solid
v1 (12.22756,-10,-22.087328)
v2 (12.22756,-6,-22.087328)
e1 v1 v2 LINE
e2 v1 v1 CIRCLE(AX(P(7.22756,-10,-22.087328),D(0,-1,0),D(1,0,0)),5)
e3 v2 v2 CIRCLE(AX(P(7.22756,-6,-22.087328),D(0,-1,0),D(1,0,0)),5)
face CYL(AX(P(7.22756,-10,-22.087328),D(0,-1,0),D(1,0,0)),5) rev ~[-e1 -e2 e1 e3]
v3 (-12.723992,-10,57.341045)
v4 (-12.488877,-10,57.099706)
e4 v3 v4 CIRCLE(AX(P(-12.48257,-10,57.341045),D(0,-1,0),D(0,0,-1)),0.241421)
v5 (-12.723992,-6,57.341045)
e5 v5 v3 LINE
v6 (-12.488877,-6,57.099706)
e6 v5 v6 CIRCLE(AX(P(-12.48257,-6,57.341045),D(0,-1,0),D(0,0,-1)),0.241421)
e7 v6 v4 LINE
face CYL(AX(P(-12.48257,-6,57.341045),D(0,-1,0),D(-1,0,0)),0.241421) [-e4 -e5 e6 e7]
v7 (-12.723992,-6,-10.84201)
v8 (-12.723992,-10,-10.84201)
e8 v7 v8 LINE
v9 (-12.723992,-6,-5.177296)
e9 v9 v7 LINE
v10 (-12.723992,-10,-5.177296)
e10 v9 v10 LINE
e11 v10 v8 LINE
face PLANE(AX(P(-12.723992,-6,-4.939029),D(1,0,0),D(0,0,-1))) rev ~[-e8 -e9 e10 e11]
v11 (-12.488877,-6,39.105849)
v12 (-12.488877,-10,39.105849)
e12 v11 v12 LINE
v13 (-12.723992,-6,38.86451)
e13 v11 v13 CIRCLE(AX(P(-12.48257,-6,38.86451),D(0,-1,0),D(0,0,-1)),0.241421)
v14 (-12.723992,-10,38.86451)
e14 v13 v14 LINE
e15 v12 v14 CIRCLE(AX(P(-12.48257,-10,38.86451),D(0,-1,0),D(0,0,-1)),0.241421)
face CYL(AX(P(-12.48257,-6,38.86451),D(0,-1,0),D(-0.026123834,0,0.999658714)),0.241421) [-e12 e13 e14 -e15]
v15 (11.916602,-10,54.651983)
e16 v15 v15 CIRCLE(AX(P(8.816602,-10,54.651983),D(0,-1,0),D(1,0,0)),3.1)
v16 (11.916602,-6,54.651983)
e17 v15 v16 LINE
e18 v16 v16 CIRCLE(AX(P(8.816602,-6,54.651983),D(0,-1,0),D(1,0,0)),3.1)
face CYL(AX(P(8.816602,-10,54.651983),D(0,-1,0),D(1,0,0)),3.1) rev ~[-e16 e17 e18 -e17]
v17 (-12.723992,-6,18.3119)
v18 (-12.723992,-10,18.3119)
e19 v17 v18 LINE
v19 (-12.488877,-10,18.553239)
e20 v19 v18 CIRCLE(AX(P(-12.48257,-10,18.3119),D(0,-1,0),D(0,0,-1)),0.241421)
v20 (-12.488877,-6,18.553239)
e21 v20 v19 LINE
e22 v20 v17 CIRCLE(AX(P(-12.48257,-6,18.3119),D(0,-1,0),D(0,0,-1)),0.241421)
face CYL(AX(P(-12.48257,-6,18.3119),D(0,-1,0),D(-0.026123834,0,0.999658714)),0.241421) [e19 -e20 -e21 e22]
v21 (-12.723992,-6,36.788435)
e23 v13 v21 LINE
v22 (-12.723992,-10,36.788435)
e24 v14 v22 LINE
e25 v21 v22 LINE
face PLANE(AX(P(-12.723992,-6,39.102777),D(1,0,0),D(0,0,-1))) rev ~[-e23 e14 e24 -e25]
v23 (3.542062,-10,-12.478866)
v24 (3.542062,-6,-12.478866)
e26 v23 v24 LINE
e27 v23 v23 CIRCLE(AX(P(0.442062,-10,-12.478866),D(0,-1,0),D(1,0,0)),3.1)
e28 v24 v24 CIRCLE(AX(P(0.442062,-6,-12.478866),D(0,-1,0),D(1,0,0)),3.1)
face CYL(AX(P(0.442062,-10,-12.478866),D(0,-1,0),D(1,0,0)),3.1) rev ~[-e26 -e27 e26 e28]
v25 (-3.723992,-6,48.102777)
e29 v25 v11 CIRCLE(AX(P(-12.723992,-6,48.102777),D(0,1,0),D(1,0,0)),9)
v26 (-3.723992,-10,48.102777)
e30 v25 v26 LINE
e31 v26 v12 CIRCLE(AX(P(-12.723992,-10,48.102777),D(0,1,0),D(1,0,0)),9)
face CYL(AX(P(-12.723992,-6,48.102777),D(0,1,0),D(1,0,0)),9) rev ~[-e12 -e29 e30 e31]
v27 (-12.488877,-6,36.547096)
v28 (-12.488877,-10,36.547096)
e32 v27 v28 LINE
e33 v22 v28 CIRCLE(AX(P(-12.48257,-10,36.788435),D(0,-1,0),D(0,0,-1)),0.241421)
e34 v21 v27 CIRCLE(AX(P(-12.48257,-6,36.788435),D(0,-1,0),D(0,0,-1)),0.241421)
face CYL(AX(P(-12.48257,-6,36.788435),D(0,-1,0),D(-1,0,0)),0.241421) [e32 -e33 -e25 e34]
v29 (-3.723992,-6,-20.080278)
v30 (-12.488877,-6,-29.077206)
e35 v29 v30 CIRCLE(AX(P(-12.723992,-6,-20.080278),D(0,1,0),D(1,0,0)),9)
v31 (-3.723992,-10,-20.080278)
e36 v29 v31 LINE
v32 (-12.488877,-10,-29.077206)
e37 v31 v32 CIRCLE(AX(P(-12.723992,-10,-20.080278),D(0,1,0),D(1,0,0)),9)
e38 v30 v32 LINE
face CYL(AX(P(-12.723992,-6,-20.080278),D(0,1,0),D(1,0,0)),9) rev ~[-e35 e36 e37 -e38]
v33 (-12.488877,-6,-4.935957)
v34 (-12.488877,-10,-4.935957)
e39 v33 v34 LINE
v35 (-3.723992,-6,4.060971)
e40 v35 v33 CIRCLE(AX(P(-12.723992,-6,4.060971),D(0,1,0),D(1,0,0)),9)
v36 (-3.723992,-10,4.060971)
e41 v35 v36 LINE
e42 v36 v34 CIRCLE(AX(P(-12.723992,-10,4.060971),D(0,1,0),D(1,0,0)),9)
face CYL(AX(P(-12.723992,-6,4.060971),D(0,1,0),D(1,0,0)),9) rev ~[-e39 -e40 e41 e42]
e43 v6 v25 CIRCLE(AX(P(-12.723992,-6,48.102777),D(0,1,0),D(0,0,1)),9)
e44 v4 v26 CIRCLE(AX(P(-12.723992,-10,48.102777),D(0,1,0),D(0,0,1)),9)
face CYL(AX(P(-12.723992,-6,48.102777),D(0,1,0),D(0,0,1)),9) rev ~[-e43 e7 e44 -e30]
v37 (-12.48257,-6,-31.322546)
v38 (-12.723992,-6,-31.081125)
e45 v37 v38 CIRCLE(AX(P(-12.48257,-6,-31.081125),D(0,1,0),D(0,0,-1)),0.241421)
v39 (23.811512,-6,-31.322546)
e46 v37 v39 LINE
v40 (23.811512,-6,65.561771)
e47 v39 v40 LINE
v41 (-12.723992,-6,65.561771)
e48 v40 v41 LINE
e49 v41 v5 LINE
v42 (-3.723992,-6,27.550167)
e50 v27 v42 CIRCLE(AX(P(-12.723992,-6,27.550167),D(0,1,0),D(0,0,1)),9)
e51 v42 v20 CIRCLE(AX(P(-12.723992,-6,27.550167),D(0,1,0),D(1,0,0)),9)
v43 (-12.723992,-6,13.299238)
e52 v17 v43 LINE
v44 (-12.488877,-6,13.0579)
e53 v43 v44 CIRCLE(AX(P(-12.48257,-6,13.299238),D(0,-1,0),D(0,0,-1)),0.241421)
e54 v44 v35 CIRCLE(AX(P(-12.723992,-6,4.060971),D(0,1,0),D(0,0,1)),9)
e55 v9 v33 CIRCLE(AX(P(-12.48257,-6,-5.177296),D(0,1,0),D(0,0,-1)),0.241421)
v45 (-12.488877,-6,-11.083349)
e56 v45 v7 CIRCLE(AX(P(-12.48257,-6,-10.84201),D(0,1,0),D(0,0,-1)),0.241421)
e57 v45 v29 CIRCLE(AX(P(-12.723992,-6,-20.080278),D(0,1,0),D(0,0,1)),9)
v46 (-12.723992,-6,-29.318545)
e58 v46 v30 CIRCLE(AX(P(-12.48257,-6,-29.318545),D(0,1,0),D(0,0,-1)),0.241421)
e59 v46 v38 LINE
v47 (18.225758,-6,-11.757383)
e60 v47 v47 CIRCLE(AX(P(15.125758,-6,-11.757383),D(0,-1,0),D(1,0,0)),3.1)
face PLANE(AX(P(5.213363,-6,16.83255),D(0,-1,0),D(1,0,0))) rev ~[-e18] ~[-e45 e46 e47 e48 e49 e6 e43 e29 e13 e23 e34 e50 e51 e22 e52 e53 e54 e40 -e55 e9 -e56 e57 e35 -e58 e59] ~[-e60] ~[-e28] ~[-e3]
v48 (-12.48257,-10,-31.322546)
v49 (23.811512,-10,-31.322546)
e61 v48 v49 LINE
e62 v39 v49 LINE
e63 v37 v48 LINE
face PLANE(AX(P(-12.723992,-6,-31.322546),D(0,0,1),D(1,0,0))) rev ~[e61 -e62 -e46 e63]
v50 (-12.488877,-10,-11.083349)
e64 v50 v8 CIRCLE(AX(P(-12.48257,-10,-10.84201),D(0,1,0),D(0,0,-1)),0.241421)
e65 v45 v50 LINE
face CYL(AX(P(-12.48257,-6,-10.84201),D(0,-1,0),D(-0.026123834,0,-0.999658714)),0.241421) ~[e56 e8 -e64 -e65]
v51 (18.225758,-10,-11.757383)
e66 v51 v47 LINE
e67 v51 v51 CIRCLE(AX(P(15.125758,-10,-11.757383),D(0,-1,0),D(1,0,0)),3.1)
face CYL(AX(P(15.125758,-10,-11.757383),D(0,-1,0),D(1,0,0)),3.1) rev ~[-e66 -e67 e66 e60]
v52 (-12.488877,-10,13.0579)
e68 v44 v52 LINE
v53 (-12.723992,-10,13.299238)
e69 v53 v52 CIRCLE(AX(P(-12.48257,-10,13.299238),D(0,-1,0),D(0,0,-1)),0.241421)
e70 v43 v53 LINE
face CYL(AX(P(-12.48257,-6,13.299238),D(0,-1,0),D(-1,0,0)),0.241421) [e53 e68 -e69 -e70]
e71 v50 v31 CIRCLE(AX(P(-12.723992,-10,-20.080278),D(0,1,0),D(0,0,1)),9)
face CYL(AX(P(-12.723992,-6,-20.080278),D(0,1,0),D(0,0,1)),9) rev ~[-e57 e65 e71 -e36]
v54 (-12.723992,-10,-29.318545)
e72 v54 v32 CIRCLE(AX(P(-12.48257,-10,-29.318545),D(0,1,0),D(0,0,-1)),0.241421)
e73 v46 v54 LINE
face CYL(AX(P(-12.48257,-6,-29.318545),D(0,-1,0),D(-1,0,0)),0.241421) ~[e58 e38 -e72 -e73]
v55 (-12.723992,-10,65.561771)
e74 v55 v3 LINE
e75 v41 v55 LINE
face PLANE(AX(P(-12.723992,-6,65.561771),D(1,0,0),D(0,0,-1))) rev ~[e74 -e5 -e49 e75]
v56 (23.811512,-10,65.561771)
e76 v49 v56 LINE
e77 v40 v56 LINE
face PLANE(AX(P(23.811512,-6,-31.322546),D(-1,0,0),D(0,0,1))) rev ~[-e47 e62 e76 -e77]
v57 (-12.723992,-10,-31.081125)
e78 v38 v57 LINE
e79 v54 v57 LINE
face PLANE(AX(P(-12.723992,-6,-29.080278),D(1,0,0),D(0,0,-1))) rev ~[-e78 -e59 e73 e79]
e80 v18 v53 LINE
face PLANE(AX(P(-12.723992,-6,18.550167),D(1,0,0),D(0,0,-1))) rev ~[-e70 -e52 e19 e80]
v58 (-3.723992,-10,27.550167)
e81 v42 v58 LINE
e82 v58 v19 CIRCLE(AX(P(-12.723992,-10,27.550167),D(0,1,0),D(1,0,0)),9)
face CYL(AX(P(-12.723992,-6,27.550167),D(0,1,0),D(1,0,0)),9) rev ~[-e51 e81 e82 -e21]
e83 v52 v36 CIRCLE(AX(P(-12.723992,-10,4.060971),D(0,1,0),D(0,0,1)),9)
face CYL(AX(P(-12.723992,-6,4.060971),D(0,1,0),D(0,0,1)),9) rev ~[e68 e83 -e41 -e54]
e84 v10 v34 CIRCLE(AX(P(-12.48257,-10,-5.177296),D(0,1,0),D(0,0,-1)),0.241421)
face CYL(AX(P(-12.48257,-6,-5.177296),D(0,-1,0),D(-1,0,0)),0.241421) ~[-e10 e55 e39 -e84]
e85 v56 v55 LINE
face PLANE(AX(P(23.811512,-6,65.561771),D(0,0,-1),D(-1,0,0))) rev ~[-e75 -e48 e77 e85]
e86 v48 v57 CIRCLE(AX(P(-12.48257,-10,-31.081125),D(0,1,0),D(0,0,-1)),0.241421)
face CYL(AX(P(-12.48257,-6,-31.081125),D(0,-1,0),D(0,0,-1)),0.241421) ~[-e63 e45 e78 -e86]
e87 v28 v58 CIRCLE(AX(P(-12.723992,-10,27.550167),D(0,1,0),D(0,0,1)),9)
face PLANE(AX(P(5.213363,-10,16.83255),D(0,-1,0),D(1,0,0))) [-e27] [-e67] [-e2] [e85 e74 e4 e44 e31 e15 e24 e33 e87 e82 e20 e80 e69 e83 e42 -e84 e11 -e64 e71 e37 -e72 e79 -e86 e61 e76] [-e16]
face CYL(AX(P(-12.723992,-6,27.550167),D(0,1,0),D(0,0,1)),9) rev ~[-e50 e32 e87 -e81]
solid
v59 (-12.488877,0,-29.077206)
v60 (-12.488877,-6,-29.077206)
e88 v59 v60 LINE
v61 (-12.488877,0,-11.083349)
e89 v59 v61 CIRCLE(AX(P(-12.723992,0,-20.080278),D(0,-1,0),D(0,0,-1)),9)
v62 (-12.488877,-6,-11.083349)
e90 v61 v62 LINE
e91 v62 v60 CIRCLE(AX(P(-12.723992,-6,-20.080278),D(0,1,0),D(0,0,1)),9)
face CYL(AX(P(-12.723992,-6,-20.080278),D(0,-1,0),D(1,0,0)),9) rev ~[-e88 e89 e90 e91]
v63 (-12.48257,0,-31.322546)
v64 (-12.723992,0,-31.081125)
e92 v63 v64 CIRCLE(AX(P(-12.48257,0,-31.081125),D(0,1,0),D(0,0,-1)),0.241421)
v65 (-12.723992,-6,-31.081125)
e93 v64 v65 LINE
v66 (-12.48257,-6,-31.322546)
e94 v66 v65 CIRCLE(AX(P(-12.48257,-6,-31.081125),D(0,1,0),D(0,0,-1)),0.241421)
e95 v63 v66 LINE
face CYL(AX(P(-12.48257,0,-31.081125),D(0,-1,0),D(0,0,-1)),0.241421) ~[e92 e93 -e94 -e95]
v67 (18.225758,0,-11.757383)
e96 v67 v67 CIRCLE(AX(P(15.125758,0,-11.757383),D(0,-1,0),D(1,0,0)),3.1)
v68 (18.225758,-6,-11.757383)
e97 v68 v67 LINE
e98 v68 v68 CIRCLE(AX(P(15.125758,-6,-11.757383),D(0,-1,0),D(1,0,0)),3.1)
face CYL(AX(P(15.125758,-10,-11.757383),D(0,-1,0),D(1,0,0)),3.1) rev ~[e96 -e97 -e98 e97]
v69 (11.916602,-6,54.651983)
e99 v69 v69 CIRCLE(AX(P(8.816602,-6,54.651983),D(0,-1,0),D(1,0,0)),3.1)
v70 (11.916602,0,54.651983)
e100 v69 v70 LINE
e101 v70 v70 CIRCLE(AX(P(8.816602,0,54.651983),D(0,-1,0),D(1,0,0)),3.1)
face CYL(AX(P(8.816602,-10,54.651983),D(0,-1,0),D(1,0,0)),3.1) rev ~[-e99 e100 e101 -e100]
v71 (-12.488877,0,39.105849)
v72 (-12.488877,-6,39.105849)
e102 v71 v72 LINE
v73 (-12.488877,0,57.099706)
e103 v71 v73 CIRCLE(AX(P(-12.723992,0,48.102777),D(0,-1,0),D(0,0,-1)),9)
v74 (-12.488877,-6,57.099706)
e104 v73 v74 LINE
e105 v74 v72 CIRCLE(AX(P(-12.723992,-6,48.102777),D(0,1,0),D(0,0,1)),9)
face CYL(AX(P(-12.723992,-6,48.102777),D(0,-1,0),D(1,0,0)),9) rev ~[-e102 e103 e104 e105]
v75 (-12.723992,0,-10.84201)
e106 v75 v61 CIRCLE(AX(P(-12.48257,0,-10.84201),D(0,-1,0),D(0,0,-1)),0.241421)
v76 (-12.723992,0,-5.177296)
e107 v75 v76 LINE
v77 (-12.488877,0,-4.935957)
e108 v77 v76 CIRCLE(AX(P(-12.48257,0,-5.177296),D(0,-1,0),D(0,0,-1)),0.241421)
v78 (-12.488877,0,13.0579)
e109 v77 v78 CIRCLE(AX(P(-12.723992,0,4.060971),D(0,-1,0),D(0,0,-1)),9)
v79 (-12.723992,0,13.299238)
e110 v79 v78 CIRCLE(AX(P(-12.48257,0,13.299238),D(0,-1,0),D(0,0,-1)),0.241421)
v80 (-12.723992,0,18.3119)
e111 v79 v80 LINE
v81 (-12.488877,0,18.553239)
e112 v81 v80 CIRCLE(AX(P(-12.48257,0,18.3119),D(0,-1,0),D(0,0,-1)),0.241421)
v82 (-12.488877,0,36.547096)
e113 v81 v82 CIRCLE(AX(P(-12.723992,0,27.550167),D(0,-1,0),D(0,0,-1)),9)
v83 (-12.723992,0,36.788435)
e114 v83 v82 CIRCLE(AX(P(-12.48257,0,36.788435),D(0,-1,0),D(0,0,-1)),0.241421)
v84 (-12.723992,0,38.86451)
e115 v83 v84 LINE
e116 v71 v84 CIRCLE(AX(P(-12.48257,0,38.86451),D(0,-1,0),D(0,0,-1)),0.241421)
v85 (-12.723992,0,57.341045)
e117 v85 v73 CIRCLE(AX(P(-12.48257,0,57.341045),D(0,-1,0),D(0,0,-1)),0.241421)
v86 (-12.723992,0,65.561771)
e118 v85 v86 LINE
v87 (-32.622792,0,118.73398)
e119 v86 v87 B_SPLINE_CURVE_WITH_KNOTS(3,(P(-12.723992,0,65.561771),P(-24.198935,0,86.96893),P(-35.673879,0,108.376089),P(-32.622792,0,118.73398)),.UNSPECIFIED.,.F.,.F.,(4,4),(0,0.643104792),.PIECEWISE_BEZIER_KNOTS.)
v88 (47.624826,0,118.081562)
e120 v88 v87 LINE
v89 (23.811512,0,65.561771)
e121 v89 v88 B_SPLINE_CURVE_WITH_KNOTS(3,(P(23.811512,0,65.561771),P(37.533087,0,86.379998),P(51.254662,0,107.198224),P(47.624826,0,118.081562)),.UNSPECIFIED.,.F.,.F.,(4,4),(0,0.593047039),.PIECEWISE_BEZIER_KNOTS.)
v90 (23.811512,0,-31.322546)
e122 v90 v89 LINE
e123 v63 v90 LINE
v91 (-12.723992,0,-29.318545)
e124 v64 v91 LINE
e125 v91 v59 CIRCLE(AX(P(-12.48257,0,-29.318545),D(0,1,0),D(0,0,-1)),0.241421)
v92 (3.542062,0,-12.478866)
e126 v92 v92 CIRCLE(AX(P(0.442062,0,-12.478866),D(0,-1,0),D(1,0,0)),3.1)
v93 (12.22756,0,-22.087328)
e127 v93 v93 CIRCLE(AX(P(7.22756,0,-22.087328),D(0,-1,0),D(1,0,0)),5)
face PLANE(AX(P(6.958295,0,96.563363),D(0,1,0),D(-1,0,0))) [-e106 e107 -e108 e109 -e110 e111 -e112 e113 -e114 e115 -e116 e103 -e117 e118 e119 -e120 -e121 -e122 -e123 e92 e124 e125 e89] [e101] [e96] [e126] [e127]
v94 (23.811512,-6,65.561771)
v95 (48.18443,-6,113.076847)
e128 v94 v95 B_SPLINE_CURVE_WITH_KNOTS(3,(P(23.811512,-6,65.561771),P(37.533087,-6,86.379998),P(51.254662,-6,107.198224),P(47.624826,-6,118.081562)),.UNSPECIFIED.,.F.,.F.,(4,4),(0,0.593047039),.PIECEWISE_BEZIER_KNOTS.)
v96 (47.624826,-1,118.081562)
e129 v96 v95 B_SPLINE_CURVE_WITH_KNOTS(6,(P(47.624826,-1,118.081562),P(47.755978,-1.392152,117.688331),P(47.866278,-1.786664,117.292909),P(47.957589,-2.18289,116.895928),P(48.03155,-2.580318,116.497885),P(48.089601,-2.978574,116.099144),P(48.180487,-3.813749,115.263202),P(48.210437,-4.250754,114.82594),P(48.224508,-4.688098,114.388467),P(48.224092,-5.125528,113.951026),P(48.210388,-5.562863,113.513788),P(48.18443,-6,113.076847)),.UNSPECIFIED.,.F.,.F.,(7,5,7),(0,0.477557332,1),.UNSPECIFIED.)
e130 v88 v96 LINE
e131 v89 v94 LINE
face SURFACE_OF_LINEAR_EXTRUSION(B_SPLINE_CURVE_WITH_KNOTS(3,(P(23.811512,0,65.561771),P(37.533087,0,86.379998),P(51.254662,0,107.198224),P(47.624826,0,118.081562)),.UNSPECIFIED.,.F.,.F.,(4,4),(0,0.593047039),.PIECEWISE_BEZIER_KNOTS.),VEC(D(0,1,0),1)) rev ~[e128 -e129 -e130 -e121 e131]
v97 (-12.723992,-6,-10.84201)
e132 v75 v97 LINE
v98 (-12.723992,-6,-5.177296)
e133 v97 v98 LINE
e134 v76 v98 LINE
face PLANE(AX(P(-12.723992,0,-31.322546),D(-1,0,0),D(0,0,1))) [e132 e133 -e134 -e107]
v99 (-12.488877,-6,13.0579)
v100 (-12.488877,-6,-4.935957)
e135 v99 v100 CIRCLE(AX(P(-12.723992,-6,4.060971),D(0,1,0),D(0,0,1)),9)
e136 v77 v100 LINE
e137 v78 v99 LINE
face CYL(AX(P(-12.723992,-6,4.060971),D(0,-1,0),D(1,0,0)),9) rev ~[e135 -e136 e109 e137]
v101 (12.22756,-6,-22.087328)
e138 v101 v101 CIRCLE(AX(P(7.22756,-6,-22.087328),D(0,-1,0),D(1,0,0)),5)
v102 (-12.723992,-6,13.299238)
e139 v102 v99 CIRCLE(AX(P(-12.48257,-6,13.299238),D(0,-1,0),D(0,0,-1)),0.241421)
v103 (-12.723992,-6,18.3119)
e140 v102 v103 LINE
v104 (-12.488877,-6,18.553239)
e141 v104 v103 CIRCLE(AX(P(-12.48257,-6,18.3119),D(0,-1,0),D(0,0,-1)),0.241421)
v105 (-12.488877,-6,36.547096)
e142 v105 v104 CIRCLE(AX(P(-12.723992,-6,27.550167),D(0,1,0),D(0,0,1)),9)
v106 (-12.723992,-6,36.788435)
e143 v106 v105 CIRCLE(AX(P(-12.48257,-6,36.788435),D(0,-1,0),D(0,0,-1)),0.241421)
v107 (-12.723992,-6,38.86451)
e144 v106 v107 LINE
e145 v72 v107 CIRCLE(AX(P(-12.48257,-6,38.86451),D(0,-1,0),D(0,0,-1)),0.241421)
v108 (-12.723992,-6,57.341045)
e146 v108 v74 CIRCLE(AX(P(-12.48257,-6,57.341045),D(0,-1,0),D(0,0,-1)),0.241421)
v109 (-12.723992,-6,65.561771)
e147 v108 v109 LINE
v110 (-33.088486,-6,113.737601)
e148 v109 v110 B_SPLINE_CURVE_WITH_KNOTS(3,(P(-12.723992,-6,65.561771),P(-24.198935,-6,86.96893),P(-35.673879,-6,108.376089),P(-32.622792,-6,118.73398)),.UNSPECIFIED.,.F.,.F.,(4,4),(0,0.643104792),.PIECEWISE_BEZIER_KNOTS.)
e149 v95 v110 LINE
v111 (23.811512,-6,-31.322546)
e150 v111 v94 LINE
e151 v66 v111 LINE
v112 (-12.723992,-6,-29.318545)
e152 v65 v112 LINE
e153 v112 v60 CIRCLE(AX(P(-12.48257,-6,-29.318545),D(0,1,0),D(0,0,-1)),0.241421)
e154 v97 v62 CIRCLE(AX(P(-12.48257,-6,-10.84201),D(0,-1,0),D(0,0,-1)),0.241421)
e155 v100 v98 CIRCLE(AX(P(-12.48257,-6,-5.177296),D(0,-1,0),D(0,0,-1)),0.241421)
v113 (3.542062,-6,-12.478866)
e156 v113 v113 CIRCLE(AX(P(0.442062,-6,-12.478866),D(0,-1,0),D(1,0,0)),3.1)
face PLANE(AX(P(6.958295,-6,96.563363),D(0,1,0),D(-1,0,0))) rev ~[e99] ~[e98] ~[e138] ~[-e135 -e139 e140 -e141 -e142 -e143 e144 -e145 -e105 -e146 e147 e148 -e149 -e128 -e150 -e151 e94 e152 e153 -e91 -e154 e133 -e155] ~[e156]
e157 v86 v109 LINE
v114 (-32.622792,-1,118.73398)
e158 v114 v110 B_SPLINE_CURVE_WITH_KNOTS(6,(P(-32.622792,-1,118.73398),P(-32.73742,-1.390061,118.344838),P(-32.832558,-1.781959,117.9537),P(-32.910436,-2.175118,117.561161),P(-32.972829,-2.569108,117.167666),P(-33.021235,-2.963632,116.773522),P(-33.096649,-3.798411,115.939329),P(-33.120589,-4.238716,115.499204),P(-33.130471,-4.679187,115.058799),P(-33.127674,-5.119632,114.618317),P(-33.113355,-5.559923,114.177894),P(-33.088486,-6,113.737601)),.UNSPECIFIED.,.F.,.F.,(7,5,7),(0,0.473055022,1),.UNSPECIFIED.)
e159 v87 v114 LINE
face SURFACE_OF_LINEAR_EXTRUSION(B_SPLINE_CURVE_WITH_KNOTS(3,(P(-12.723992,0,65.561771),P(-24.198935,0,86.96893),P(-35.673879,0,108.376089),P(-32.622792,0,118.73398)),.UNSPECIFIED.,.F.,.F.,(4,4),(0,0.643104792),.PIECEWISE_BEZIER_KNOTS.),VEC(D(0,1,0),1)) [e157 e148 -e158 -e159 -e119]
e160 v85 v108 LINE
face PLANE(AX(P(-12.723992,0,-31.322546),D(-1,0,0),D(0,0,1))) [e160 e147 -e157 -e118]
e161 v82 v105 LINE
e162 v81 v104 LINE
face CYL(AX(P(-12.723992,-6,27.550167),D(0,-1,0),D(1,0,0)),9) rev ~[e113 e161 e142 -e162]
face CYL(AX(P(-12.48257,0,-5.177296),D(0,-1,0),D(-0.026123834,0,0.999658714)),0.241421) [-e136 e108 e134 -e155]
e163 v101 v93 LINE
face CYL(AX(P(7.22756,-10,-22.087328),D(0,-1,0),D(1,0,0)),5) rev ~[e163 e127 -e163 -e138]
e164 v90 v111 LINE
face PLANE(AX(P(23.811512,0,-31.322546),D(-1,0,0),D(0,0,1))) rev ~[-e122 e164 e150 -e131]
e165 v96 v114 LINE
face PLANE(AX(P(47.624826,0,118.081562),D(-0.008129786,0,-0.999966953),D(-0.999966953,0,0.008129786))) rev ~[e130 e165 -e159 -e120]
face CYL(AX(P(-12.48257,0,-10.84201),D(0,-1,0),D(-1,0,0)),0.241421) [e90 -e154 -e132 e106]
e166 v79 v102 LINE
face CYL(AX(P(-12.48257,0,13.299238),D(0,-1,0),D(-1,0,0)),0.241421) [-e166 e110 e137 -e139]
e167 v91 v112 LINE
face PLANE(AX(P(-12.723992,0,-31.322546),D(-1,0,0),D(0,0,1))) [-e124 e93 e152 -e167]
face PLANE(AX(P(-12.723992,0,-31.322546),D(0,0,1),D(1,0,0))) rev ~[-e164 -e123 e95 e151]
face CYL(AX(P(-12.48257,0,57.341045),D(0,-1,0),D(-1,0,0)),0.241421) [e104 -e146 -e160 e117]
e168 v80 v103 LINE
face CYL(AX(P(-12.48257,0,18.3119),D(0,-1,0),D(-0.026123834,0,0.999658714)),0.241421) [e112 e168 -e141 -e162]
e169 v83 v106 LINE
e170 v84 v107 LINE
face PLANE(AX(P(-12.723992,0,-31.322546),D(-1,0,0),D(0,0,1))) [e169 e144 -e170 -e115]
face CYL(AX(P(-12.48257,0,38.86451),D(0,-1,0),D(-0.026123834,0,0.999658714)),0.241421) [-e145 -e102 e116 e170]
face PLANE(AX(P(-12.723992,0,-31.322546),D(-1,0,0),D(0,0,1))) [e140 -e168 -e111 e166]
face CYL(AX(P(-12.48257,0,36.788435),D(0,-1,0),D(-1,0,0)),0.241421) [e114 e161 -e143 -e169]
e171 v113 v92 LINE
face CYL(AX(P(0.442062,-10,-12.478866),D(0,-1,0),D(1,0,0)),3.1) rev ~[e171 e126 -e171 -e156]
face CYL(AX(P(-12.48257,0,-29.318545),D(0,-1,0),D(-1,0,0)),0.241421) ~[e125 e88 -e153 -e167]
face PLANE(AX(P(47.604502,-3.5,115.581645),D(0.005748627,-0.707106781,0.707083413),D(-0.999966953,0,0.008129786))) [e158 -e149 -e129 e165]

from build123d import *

# Parameters (mm, degrees)
F1_W     = 36.5355033427
F1_H     = 96.8843176961
F2_DEPTH = 6
F4_DEPTH = 4
F3_R     = 9
F5_DEPTH = 25
F6_R     = 3.1
F6_R_2   = 5
F7_DEPTH = 35.6
F8_SIZE  = 5
F9_R     = 0.2414213562
F9_2_R   = 0.2414213562


with BuildPart() as f2:
    # F1 (on face) → F2 (new body)
    with BuildSketch(Plane.XZ):
        with BuildLine():
            add(Edge.make_bspline(
                [(-12.7239916474, 65.5617713928), (-24.1989352738, 86.9689300154), (-35.6738789003, 108.376088638), (-32.6227918267, 118.7339797616)],
                knots=[0, 0, 0, 0, 0.6431047919, 0.6431047919, 0.6431047919, 0.6431047919], degree=3))
            Line((-12.7239916474, 65.5617713928), (23.8115116954, 65.5617713928))
            add(Edge.make_bspline(
                [(23.8115116954, 65.5617713928), (37.5330867792, 86.3799975236), (51.254661863, 107.1982236544), (47.6248264313, 118.0815622211)],
                knots=[0, 0, 0, 0, 0.5930470387, 0.5930470387, 0.5930470387, 0.5930470387], degree=3))
            Line((47.6248264313, 118.0815622211), (-32.6227918267, 118.7339797616))
        make_face()
        with Locations((5.543760024, 17.1196125448)):
            Rectangle(F1_W, F1_H)
    extrude(amount=F2_DEPTH)

    # F3 (on face) → F5 (cut)
    with BuildSketch(Plane.XZ.offset(6)):
        with Locations((-12.7239916474, 48.1027774513)):
            Circle(F3_R)
        with Locations((-12.7239916474, 27.5501671713)):
            Circle(F3_R)
        with Locations((-12.7239916474, 4.060971085)):
            Circle(F3_R)
        with Locations((-12.7239916474, -20.0802776963)):
            Circle(F3_R)
    extrude(amount=-F5_DEPTH, mode=Mode.SUBTRACT)


with BuildPart() as f4:
    # F3 (on face) → F4 (new body)
    with BuildSketch(Plane.XZ.offset(6)):
        with BuildLine():
            Line((23.8115116954, 65.5617713928), (-12.7239916474, 65.5617713928))
            Line((-12.7239916474, 65.5617713928), (-12.7239916474, 57.1027774513))
            ThreePointArc((-12.7239916474, 57.1027774513), (-6.3600306167, 54.466738482), (-3.7239916474, 48.1027774513))
            ThreePointArc((-3.7239916474, 48.1027774513), (-6.3600306167, 41.7388164206), (-12.7239916474, 39.1027774513))
            Line((-12.7239916474, 39.1027774513), (-12.7239916474, 36.5501671713))
            ThreePointArc((-12.7239916474, 36.5501671713), (-6.3600306167, 33.914128202), (-3.7239916474, 27.5501671713))
            ThreePointArc((-3.7239916474, 27.5501671713), (-6.3600306167, 21.1862061406), (-12.7239916474, 18.5501671713))
            Line((-12.7239916474, 18.5501671713), (-12.7239916474, 13.060971085))
            ThreePointArc((-12.7239916474, 13.060971085), (-6.3600306167, 10.4249321157), (-3.7239916474, 4.060971085))
            ThreePointArc((-3.7239916474, 4.060971085), (-6.3600306167, -2.3029899457), (-12.7239916474, -4.939028915))
            Line((-12.7239916474, -4.939028915), (-12.7239916474, -11.0802776963))
            ThreePointArc((-12.7239916474, -11.0802776963), (-6.3600306167, -13.7163166656), (-3.7239916474, -20.0802776963))
            ThreePointArc((-3.7239916474, -20.0802776963), (-6.3600306167, -26.4442387269), (-12.7239916474, -29.0802776963))
            Line((-12.7239916474, -29.0802776963), (-12.7239916474, -31.3225463033))
            Line((-12.7239916474, -31.3225463033), (23.8115116954, -31.3225463033))
            Line((23.8115116954, -31.3225463033), (23.8115116954, 65.5617713928))
        make_face()
    extrude(amount=F4_DEPTH)


with BuildPart() as f7_tool:
    # F6 (on face) → F7 (new body)
    with BuildSketch(Plane.XZ.offset(10)):
        with Locations((0.442061777, -12.4788656831)):
            Circle(F6_R)
        with Locations((15.1257580146, -11.757383123)):
            Circle(F6_R)
        with Locations((8.8166017085, 54.6519830823)):
            Circle(F6_R)
        with Locations((7.2275600396, -22.087328136)):
            Circle(F6_R_2)
    extrude(amount=-F7_DEPTH)


with BuildPart() as f2_1:
    add(f2.part)

    # F7: cut by f7_tool
    add(f7_tool.part, mode=Mode.SUBTRACT)

    # F8
    f8_edges = [f2_1.edges().sort_by_distance(p)[0] for p in [
        (7.501017, -6, 118.407771),
    ]]
    chamfer(f8_edges, length=F8_SIZE)

    # F9
    f9_edges = [f2_1.edges().sort_by_distance(p)[0] for p in [
        (-12.723992, -3, 57.102777),
        (-12.723992, -3, 39.102777),
        (-12.723992, -3, 36.550167),
        (-12.723992, -3, 18.550167),
        (-12.723992, -3, 13.060971),
        (-12.723992, -3, -4.939029),
        (-12.723992, -3, -11.080278),
        (-12.723992, -3, -29.080278),
        (-12.723992, -3, -31.322546),
    ]]
    fillet(f9_edges, radius=F9_R)


with BuildPart() as f4_1:
    add(f4.part)

    # F7: cut by f7_tool
    add(f7_tool.part, mode=Mode.SUBTRACT)

    # F9#2
    f9_2_edges = [f4_1.edges().sort_by_distance(p)[0] for p in [
        (-12.723992, -8, 39.102777),
        (-12.723992, -8, 18.550167),
        (-12.723992, -8, 57.102777),
        (-12.723992, -8, 36.550167),
        (-12.723992, -8, 13.060971),
        (-12.723992, -8, -4.939029),
        (-12.723992, -8, -29.080278),
        (-12.723992, -8, -31.322546),
        (-12.723992, -8, -11.080278),
    ]]
    fillet(f9_2_edges, radius=F9_2_R)


solid = Compound([f2_1.part, f4_1.part])
